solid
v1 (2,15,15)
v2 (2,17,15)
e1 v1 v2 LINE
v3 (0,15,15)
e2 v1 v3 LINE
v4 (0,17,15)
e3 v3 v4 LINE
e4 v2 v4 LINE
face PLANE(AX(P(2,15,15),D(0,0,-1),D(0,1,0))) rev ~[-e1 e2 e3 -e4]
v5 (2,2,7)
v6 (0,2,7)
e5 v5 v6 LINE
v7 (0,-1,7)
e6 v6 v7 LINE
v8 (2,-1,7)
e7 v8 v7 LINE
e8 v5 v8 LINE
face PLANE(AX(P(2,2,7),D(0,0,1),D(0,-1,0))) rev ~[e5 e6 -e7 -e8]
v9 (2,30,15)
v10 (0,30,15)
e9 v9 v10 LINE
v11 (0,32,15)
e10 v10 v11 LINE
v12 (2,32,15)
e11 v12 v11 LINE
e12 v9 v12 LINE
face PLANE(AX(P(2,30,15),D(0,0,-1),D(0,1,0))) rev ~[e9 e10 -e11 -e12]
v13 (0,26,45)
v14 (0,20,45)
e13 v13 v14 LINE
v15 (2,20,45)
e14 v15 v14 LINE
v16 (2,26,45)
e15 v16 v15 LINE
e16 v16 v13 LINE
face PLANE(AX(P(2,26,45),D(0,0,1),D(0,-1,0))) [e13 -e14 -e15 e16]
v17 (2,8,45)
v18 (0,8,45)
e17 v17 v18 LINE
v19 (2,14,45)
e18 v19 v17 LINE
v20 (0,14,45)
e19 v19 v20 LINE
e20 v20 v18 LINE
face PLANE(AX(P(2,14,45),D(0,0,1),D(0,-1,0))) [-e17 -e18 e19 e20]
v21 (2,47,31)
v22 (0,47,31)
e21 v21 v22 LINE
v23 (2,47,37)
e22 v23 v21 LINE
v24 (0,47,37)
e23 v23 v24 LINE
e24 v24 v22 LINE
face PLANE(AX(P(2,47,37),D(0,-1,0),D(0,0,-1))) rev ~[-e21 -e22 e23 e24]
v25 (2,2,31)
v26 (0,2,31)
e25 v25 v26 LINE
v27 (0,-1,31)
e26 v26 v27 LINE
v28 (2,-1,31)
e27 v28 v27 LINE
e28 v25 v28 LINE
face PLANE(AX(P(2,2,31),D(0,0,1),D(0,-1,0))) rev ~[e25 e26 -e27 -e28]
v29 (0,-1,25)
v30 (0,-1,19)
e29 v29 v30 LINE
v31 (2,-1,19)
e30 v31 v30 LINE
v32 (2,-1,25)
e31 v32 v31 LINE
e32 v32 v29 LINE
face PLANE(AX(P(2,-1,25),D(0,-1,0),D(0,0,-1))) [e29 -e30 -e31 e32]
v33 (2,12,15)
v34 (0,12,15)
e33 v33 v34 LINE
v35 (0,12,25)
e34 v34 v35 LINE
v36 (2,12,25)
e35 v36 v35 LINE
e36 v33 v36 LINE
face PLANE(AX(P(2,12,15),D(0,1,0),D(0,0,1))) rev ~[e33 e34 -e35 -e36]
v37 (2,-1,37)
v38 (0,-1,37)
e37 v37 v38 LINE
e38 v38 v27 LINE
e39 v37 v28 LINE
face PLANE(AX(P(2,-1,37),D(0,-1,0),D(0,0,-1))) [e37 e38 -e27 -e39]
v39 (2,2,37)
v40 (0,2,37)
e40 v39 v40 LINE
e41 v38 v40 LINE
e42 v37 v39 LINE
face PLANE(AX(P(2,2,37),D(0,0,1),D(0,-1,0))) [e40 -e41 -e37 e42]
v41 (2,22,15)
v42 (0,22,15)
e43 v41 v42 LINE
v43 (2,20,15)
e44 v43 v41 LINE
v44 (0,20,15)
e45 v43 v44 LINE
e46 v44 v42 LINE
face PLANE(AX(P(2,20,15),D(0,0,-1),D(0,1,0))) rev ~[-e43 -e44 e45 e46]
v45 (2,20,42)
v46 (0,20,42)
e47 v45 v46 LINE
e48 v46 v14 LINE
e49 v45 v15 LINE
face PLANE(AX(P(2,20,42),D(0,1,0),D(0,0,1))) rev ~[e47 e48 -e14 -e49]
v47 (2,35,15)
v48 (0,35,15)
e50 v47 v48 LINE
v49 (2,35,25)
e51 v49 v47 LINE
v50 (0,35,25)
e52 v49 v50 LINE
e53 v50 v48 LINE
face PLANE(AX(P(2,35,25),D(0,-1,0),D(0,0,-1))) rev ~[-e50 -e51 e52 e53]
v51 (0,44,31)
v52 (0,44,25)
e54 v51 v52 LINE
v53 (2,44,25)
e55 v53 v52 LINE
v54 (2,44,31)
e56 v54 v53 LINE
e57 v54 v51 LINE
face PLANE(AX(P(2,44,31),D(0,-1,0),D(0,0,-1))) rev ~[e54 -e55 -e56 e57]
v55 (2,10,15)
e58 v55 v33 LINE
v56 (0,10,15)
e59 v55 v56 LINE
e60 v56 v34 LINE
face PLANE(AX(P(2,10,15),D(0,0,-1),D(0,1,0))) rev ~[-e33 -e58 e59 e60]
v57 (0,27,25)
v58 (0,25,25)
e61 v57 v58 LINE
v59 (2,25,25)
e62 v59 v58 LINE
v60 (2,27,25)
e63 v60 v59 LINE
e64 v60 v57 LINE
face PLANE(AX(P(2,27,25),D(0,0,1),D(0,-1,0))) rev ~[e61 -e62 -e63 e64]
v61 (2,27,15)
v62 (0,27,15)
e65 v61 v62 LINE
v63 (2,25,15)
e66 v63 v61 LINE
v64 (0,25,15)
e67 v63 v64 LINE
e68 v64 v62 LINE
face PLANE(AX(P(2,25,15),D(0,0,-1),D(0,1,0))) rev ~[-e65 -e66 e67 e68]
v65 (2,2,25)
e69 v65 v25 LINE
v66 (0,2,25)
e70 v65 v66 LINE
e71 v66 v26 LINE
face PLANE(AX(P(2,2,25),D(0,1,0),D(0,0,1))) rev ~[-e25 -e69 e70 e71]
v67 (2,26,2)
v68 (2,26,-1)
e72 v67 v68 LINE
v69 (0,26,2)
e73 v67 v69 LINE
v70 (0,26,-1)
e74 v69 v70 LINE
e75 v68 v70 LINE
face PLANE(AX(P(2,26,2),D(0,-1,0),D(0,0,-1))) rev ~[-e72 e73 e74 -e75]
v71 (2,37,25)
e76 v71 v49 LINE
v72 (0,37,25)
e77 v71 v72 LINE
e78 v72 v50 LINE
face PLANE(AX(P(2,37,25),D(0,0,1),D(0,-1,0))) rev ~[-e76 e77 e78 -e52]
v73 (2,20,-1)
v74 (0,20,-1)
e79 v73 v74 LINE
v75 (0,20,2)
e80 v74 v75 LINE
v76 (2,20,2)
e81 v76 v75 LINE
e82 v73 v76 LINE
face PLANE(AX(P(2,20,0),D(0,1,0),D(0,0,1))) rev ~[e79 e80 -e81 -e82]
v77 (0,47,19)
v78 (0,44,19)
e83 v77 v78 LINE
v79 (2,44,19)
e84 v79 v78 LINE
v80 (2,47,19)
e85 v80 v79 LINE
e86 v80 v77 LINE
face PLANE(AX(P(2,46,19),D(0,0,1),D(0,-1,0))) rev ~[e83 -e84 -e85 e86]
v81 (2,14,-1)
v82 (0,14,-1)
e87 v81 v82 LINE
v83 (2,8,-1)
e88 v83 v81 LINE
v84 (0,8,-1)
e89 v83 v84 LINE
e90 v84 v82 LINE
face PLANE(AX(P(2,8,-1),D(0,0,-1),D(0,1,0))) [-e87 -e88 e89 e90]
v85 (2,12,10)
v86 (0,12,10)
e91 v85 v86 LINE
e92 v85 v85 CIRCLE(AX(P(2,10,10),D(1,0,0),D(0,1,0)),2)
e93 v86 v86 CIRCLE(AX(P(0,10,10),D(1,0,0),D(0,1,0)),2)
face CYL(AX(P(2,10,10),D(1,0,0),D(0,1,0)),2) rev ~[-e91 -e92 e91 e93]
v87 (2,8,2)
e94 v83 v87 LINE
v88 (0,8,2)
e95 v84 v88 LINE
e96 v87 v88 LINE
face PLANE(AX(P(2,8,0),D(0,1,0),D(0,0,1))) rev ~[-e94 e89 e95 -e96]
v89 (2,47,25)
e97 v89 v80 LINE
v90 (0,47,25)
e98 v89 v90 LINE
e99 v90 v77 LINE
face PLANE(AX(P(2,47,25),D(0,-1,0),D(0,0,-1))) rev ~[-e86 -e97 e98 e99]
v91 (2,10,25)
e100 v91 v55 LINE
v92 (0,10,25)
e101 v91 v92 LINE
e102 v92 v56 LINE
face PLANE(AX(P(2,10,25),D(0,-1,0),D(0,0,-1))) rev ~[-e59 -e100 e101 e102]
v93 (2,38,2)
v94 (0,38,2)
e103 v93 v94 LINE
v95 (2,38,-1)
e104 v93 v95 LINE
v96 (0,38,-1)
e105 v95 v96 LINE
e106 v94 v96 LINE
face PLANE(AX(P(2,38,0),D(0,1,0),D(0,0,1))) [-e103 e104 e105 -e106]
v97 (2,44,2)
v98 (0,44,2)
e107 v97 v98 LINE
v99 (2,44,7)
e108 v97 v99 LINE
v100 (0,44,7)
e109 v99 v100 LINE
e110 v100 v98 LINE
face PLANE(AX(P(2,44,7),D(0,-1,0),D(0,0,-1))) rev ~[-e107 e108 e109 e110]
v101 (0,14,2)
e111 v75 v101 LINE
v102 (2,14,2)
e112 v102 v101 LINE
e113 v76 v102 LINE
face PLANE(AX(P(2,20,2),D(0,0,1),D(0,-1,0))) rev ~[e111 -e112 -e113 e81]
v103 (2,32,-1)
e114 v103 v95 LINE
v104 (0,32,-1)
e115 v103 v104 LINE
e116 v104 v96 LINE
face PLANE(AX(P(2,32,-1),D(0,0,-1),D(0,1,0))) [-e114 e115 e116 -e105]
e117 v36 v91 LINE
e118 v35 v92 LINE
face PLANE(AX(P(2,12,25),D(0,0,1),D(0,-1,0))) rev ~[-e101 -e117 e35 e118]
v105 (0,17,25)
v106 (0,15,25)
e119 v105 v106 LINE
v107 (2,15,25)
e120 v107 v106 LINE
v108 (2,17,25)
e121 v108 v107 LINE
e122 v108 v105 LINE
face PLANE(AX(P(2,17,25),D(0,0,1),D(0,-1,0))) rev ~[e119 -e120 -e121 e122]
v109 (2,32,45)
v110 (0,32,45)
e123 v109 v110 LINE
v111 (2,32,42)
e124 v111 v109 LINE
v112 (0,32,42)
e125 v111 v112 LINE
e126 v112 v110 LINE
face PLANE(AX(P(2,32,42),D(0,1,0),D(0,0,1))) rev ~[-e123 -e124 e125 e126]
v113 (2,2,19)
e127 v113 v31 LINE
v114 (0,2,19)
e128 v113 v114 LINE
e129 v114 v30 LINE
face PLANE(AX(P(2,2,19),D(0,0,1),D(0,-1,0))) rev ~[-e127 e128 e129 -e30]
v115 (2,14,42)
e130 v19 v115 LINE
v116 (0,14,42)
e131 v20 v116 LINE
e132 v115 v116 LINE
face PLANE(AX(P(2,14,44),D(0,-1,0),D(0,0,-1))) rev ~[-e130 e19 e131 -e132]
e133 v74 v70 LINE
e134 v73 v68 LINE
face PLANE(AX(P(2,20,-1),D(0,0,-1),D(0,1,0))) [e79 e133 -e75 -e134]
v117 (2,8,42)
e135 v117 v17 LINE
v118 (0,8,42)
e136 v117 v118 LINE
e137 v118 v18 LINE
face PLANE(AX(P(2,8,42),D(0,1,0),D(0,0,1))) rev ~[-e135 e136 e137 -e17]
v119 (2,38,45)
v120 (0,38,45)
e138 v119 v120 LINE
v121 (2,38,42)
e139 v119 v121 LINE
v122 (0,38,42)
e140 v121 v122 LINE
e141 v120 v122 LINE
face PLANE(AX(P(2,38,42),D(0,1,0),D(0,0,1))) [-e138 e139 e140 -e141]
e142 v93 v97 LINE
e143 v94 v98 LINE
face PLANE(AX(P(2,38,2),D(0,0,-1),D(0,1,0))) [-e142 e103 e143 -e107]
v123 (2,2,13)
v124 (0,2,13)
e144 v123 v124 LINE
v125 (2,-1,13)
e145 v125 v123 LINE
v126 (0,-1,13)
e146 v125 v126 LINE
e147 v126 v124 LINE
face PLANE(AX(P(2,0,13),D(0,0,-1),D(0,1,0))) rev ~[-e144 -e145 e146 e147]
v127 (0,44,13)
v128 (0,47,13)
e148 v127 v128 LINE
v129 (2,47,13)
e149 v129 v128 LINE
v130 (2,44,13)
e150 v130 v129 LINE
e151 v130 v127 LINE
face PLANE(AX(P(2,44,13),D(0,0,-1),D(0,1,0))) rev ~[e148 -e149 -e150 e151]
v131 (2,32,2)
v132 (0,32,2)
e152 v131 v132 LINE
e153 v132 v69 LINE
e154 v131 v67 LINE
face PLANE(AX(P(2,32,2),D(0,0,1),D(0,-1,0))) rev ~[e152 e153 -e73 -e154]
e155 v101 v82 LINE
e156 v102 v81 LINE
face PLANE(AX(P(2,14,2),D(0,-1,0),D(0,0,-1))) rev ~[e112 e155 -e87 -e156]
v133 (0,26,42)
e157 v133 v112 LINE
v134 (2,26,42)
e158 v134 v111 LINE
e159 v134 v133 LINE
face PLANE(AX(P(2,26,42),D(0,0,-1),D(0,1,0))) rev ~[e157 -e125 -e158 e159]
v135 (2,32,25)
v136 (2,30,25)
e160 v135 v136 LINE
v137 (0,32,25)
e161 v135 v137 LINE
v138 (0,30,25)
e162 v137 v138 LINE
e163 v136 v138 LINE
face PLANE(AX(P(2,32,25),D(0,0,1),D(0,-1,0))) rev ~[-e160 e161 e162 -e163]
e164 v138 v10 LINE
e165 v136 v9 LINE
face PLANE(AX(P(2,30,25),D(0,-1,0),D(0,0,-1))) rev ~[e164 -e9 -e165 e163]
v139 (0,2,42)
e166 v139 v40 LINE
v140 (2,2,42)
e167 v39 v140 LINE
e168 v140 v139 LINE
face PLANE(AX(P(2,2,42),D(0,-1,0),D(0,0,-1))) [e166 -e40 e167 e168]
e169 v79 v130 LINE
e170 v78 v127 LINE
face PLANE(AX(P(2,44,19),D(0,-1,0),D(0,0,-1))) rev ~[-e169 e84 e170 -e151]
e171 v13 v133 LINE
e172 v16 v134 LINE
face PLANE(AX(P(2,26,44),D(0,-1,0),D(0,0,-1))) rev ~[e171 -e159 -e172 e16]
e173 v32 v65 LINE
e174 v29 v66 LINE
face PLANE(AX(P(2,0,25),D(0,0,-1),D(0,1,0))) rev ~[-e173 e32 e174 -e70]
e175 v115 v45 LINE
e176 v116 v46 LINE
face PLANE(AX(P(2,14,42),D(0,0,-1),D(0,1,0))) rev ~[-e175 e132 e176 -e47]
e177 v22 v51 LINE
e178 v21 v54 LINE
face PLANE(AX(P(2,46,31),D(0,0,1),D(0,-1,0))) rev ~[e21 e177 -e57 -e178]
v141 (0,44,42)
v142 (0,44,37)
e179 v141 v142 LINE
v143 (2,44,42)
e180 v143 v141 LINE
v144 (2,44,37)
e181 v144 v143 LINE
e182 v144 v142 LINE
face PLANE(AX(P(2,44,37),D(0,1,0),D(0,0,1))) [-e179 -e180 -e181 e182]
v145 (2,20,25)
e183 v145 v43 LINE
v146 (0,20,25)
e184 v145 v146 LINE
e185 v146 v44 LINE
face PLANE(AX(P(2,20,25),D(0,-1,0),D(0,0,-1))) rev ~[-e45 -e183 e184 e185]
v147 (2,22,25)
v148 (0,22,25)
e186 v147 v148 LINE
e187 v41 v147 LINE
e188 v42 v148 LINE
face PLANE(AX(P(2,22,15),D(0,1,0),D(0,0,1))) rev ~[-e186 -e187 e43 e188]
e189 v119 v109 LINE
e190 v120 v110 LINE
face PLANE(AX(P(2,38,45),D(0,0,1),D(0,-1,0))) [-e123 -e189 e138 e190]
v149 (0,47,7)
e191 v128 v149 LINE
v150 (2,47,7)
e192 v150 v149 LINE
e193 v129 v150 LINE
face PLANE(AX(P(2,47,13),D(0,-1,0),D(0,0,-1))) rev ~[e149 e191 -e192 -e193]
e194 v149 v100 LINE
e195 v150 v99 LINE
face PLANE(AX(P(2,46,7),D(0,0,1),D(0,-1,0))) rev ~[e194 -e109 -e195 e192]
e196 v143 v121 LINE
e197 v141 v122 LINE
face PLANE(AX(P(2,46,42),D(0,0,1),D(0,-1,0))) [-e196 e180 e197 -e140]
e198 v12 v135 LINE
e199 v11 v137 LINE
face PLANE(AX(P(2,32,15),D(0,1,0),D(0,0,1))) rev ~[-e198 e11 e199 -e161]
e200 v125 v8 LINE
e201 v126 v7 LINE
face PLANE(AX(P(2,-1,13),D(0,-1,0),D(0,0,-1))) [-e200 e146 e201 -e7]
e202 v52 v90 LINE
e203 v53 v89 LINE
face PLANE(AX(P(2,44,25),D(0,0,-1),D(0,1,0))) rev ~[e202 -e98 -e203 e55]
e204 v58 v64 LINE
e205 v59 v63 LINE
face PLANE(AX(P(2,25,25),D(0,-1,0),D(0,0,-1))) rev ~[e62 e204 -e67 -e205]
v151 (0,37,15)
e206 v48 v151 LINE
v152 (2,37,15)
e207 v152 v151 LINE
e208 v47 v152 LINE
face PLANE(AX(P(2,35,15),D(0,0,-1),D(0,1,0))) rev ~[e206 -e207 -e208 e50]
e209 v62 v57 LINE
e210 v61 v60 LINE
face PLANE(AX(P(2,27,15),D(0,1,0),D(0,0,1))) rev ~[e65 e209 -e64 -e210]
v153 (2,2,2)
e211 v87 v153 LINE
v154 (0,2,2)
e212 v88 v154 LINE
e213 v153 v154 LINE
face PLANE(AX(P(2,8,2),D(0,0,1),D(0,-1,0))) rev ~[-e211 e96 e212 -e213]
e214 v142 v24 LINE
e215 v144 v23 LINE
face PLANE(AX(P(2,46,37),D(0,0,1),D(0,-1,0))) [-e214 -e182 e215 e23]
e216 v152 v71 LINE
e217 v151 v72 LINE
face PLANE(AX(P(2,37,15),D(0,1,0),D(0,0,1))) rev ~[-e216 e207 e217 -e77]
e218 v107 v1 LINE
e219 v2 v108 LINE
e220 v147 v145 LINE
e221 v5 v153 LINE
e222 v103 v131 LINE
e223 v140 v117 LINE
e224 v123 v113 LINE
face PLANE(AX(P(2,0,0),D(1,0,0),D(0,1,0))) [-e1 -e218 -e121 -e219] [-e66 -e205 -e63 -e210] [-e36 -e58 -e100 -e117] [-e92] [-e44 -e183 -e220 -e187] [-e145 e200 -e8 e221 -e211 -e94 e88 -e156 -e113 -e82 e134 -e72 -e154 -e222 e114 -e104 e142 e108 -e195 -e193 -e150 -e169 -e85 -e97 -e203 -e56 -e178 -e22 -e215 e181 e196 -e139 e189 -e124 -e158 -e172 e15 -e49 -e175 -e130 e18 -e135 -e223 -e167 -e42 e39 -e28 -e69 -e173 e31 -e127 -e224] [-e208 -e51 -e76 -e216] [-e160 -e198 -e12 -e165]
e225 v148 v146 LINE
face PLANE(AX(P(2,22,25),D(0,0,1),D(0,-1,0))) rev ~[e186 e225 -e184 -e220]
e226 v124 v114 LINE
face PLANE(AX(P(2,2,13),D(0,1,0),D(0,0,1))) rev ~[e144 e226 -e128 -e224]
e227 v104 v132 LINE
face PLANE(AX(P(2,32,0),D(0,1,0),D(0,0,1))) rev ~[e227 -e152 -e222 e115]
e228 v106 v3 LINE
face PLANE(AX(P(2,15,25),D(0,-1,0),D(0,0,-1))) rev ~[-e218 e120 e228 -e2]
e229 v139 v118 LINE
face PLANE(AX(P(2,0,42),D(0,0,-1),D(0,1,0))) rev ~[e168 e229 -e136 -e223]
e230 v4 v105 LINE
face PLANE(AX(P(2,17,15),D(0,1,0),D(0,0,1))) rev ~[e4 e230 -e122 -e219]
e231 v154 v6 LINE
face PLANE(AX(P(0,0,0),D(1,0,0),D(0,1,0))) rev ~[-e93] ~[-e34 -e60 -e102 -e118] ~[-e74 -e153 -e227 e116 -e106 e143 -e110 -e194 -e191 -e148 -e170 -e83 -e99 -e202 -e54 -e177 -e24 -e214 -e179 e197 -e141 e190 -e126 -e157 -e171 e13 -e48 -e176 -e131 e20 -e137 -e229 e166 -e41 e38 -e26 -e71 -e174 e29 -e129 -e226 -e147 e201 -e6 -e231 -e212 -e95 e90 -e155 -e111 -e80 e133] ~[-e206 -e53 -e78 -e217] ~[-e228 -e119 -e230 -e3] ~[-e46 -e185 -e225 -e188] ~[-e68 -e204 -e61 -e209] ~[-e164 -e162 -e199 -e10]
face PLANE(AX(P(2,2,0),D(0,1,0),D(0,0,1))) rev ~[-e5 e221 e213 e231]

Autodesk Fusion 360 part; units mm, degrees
sketch "スケッチ1" plane through (0, 0, 0) normal (1, 0, 0) x (0, 1, 0)
  line L0 (0, 0) -> (46, 0)
  line L1 (46, 0) -> (46, 44)
  line L2 (46, 44) -> (0, 44)
  line L3 (0, 44) -> (0, 0)
  dimension "d1" = 46
  dimension "d2" = 44
extrude "押し出し1" add sketch "スケッチ1" along normal blind 2
sketch "スケッチ2" plane through (2, 0, 0) normal (1, 0, 0) x (0, 1, 0)
  line L0 (0, 44) -> (0, 0)
  line L1 (0, 0) -> (46, 0)
  line L2 (46, 0) -> (46, 44)
  line L3 (46, 44) -> (0, 44)
  line L4 (0, 0) -> (8, 0)
  line L5 (8, 0) -> (8, 2)
  line L6 (8, 2) -> (0, 2)
  line L7 (0, 2) -> (0, 0)
  line L8 (14, 0) -> (20, 0)
  line L9 (20, 0) -> (20, 2)
  line L10 (20, 2) -> (14, 2)
  line L11 (14, 2) -> (14, 0)
  line L12 (26, 0) -> (32, 0)
  line L13 (32, 0) -> (32, 2)
  line L14 (32, 2) -> (26, 2)
  line L15 (26, 2) -> (26, 0)
  line L16 (46, 0) -> (38, 0)
  line L17 (38, 0) -> (38, 2)
  line L18 (38, 2) -> (46, 2)
  line L19 (46, 2) -> (46, 0)
  line L20 (32, 42) -> (32, 44)
  line L21 (32, 44) -> (26, 44)
  line L22 (20, 42) -> (20, 44)
  line L23 (38, 42) -> (38, 44)
  line L24 (38, 44) -> (46, 44)
  line L25 (46, 44) -> (46, 42)
  line L26 (0, 42) -> (8, 42)
  line L27 (26, 44) -> (26, 42)
  line L28 (8, 42) -> (8, 44)
  line L29 (8, 44) -> (0, 44)
  line L30 (0, 44) -> (0, 42)
  line L31 (20, 44) -> (14, 44)
  line L32 (26, 42) -> (32, 42)
  line L33 (46, 42) -> (38, 42)
  line L34 (14, 42) -> (20, 42)
  line L35 (14, 44) -> (14, 42)
  point P0 (0, 42)
  dimension "d5" = 8
  dimension "d6" = 2
  dimension "d7" = 6
  dimension "d8" = 2
  dimension "d9" = 6
  dimension "d10" = 6
  dimension "d11" = 2
  dimension "d12" = 6
  dimension "d13" = 6
  dimension "d14" = 2
extrude "押し出し2" cut sketch "スケッチ2" against normal blind 2 contours L0 L3 L26 L28 L29 L30 | L0 L1 L4 L5 L6 L7 | L3 L22 L31 L34 L35 | L3 L20 L21 L27 L32 | L1 L8 L9 L10 L11 | L2 L3 L23 L24 L25 L33 | L1 L12 L13 L14 L15 | L1 L2 L16 L17 L18 L19
sketch "スケッチ3" plane through (2, 0, 0) normal (1, 0, 0) x (0, 1, 0)
  line L0 (8, 2) -> (8, 0)
  line L1 (8, 0) -> (14, 0)
  line L2 (14, 0) -> (14, 2)
  line L3 (14, 2) -> (20, 2)
  line L4 (20, 2) -> (20, 0)
  line L5 (20, 0) -> (26, 0)
  line L6 (26, 0) -> (26, 2)
  line L7 (26, 2) -> (32, 2)
  line L8 (32, 2) -> (32, 0)
  line L9 (32, 0) -> (38, 0)
  line L10 (38, 0) -> (38, 2)
  line L11 (38, 2) -> (46, 2)
  line L12 (46, 2) -> (46, 42)
  line L13 (46, 42) -> (38, 42)
  line L14 (38, 42) -> (38, 44)
  line L15 (38, 44) -> (32, 44)
  line L16 (32, 44) -> (32, 42)
  line L17 (32, 42) -> (26, 42)
  line L18 (26, 42) -> (26, 44)
  line L19 (26, 44) -> (20, 44)
  line L20 (20, 44) -> (20, 42)
  line L21 (20, 42) -> (14, 42)
  line L22 (14, 42) -> (14, 44)
  line L23 (14, 44) -> (8, 44)
  line L24 (8, 44) -> (8, 42)
  line L25 (8, 42) -> (0, 42)
  line L26 (0, 42) -> (0, 2)
  line L27 (0, 2) -> (8, 2)
  line L28 (0, 44) -> (2, 44)
  line L29 (2, 44) -> (2, 37)
  line L30 (2, 37) -> (0, 37)
  line L31 (0, 37) -> (0, 44)
  line L32 (2, 31) -> (0, 31)
  line L33 (0, 31) -> (0, 25)
  line L34 (0, 25) -> (2, 25)
  line L35 (2, 25) -> (2, 31)
  line L36 (2, 19) -> (0, 19)
  line L37 (0, 19) -> (0, 13)
  line L38 (0, 13) -> (2, 13)
  line L39 (2, 13) -> (2, 19)
  line L40 (2, 7) -> (0, 7)
  line L41 (0, 7) -> (0, 0)
  line L42 (0, 0) -> (2, 0)
  line L43 (2, 0) -> (2, 7)
  line L44 (46, 31) -> (44, 31)
  line L45 (46, 13) -> (46, 19)
  line L46 (44, 44) -> (46, 44)
  line L47 (44, 0) -> (46, 0)
  line L48 (44, 7) -> (44, 0)
  line L49 (44, 25) -> (46, 25)
  line L50 (46, 37) -> (44, 37)
  line L51 (44, 37) -> (44, 44)
  line L52 (44, 13) -> (46, 13)
  line L53 (44, 31) -> (44, 25)
  line L54 (46, 19) -> (44, 19)
  line L55 (44, 19) -> (44, 13)
  line L56 (46, 25) -> (46, 31)
  line L57 (46, 7) -> (44, 7)
  line L58 (46, 0) -> (46, 7)
  line L59 (46, 44) -> (46, 37)
  point P0 (44, 0)
  dimension "d21" = 2
  dimension "d22" = 7
  dimension "d23" = 2
  dimension "d24" = 6
  dimension "d25" = 6
  dimension "d26" = 6
  dimension "d27" = 6
  dimension "d28" = 2
  dimension "d29" = 6
  dimension "d30" = 7
  dimension "d31" = 2
extrude "押し出し3" cut sketch "スケッチ3" against normal blind 2 contours L27 L41 L42 L43 | L26 L27 L40 L41 L43 | L26 L36 L37 L38 L39 | L26 L32 L33 L34 L35 | L25 L26 L29 L30 L31 | L25 L28 L29 L31 | L11 L12 L48 L57 L58 | L11 L47 L48 L58 | L12 L45 L52 L54 L55 | L12 L44 L49 L53 L56 | L12 L13 L50 L51 L59 | L13 L46 L51 L59
sketch "スケッチ4" plane through (2, 0, 0) normal (1, 0, 0) x (0, 1, 0)
  line L0 (44, 19) -> (46, 19)
  line L1 (46, 19) -> (46, 25)
  line L2 (46, 25) -> (44, 25)
  line L3 (44, 25) -> (44, 31)
  line L4 (44, 31) -> (46, 31)
  line L5 (46, 31) -> (46, 37)
  line L6 (46, 37) -> (44, 37)
  line L7 (44, 37) -> (44, 42)
  line L8 (44, 42) -> (38, 42)
  line L9 (38, 42) -> (38, 44)
  line L10 (38, 44) -> (32, 44)
  line L11 (32, 44) -> (32, 42)
  line L12 (32, 42) -> (26, 42)
  line L13 (26, 42) -> (26, 44)
  line L14 (26, 44) -> (20, 44)
  line L15 (20, 44) -> (20, 42)
  line L16 (20, 42) -> (14, 42)
  line L17 (14, 42) -> (14, 44)
  line L18 (14, 44) -> (8, 44)
  line L19 (8, 44) -> (8, 42)
  line L20 (8, 42) -> (2, 42)
  line L21 (2, 42) -> (2, 37)
  line L22 (2, 37) -> (0, 37)
  line L23 (0, 37) -> (0, 31)
  line L24 (0, 31) -> (2, 31)
  line L25 (2, 31) -> (2, 25)
  line L26 (2, 25) -> (0, 25)
  line L27 (0, 25) -> (0, 19)
  line L28 (0, 19) -> (2, 19)
  line L29 (2, 19) -> (2, 13)
  line L30 (2, 13) -> (0, 13)
  line L31 (0, 13) -> (0, 7)
  line L32 (0, 7) -> (2, 7)
  line L33 (2, 7) -> (2, 2)
  line L34 (2, 2) -> (8, 2)
  line L35 (8, 2) -> (8, 0)
  line L36 (8, 0) -> (14, 0)
  line L37 (14, 0) -> (14, 2)
  line L38 (14, 2) -> (20, 2)
  line L39 (20, 2) -> (20, 0)
  line L40 (20, 0) -> (26, 0)
  line L41 (26, 0) -> (26, 2)
  line L42 (26, 2) -> (32, 2)
  line L43 (32, 2) -> (32, 0)
  line L44 (32, 0) -> (38, 0)
  line L45 (38, 0) -> (38, 2)
  line L46 (38, 2) -> (44, 2)
  line L47 (44, 2) -> (44, 7)
  line L48 (44, 7) -> (46, 7)
  line L49 (46, 7) -> (46, 13)
  line L50 (46, 13) -> (44, 13)
  line L51 (44, 13) -> (44, 19)
  line L52 (10, 15) -> (12, 15)
  line L53 (12, 15) -> (12, 25)
  line L54 (12, 25) -> (10, 25)
  line L55 (10, 25) -> (10, 15)
  line L56 (15, 15) -> (17, 15)
  line L57 (17, 15) -> (17, 25)
  line L58 (17, 25) -> (15, 25)
  line L59 (15, 25) -> (15, 15)
  line L60 (20, 15) -> (22, 15)
  line L61 (22, 15) -> (22, 25)
  line L62 (22, 25) -> (20, 25)
  line L63 (20, 25) -> (20, 15)
  line L64 (25, 15) -> (27, 15)
  line L65 (27, 15) -> (27, 25)
  line L66 (27, 25) -> (25, 25)
  line L67 (25, 25) -> (25, 15)
  line L68 (30, 15) -> (32, 15)
  line L69 (32, 15) -> (32, 25)
  line L70 (32, 25) -> (30, 25)
  line L71 (30, 25) -> (30, 15)
  line L72 (35, 15) -> (37, 15)
  line L73 (37, 15) -> (37, 25)
  line L74 (37, 25) -> (35, 25)
  line L75 (35, 25) -> (35, 15)
extrude "押し出し4" cut sketch "スケッチ4" against normal blind 2 contours L52 L53 L54 L55 | L56 L57 L58 L59 | L60 L61 L62 L63 | L64 L65 L66 L67 | L68 L69 L70 L71 | L72 L73 L74 L75
sketch "スケッチ5" plane through (2, 0, 0) normal (1, 0, 0) x (0, 1, 0)
  line L0 (37, 15) -> (35, 15)
  line L1 (35, 15) -> (35, 25)
  line L2 (35, 25) -> (37, 25)
  line L3 (37, 25) -> (37, 15)
  line L4 (32, 15) -> (30, 15)
  line L5 (30, 15) -> (30, 25)
  line L6 (30, 25) -> (32, 25)
  line L7 (32, 25) -> (32, 15)
  line L8 (17, 15) -> (15, 15)
  line L9 (15, 15) -> (15, 25)
  line L10 (15, 25) -> (17, 25)
  line L11 (17, 25) -> (17, 15)
  line L12 (12, 15) -> (10, 15)
  line L13 (10, 15) -> (10, 25)
  line L14 (10, 25) -> (12, 25)
  line L15 (12, 25) -> (12, 15)
  line L16 (22, 15) -> (20, 15)
  line L17 (20, 15) -> (20, 25)
  line L18 (20, 25) -> (22, 25)
  line L19 (22, 25) -> (22, 15)
  line L20 (27, 15) -> (25, 15)
  line L21 (25, 15) -> (25, 25)
  line L22 (25, 25) -> (27, 25)
  line L23 (27, 25) -> (27, 15)
  line L24 (44, 19) -> (46, 19)
  line L25 (46, 19) -> (46, 25)
  line L26 (46, 25) -> (44, 25)
  line L27 (44, 25) -> (44, 31)
  line L28 (44, 31) -> (46, 31)
  line L29 (46, 31) -> (46, 37)
  line L30 (46, 37) -> (44, 37)
  line L31 (44, 37) -> (44, 42)
  line L32 (44, 42) -> (38, 42)
  line L33 (38, 42) -> (38, 44)
  line L34 (38, 44) -> (32, 44)
  line L35 (32, 44) -> (32, 42)
  line L36 (32, 42) -> (26, 42)
  line L37 (26, 42) -> (26, 44)
  line L38 (26, 44) -> (20, 44)
  line L39 (20, 44) -> (20, 42)
  line L40 (20, 42) -> (14, 42)
  line L41 (14, 42) -> (14, 44)
  line L42 (14, 44) -> (8, 44)
  line L43 (8, 44) -> (8, 42)
  line L44 (8, 42) -> (2, 42)
  line L45 (2, 42) -> (2, 37)
  line L46 (2, 37) -> (0, 37)
  line L47 (0, 37) -> (0, 31)
  line L48 (0, 31) -> (2, 31)
  line L49 (2, 31) -> (2, 25)
  line L50 (2, 25) -> (0, 25)
  line L51 (0, 25) -> (0, 19)
  line L52 (0, 19) -> (2, 19)
  line L53 (2, 19) -> (2, 13)
  line L54 (2, 13) -> (0, 13)
  line L55 (0, 13) -> (0, 7)
  line L56 (0, 7) -> (2, 7)
  line L57 (2, 7) -> (2, 2)
  line L58 (2, 2) -> (8, 2)
  line L59 (8, 2) -> (8, 0)
  line L60 (8, 0) -> (14, 0)
  line L61 (14, 0) -> (14, 2)
  line L62 (14, 2) -> (20, 2)
  line L63 (20, 2) -> (20, 0)
  line L64 (20, 0) -> (26, 0)
  line L65 (26, 0) -> (26, 2)
  line L66 (26, 2) -> (32, 2)
  line L67 (32, 2) -> (32, 0)
  line L68 (32, 0) -> (38, 0)
  line L69 (38, 0) -> (38, 2)
  line L70 (38, 2) -> (44, 2)
  line L71 (44, 2) -> (44, 7)
  line L72 (44, 7) -> (46, 7)
  line L73 (46, 7) -> (46, 13)
  line L74 (46, 13) -> (44, 13)
  line L75 (44, 13) -> (44, 19)
  circle A0 centre (10, 10) radius 2
extrude "押し出し5" cut sketch "スケッチ5" against normal blind 2 contours A0
sketch "スケッチ6" plane through (2, 0, 0) normal (1, 0, 0) x (0, 1, 0)
  circle A0 centre (10, 10) radius 2
  line L0 (37, 15) -> (35, 15)
  line L1 (35, 15) -> (35, 25)
  line L2 (35, 25) -> (37, 25)
  line L3 (37, 25) -> (37, 15)
  line L4 (32, 15) -> (30, 15)
  line L5 (30, 15) -> (30, 25)
  line L6 (30, 25) -> (32, 25)
  line L7 (32, 25) -> (32, 15)
  line L8 (17, 15) -> (15, 15)
  line L9 (15, 15) -> (15, 25)
  line L10 (15, 25) -> (17, 25)
  line L11 (17, 25) -> (17, 15)
  line L12 (12, 15) -> (10, 15)
  line L13 (10, 15) -> (10, 25)
  line L14 (10, 25) -> (12, 25)
  line L15 (12, 25) -> (12, 15)
  line L16 (22, 15) -> (20, 15)
  line L17 (20, 15) -> (20, 25)
  line L18 (20, 25) -> (22, 25)
  line L19 (22, 25) -> (22, 15)
  line L20 (27, 15) -> (25, 15)
  line L21 (25, 15) -> (25, 25)
  line L22 (25, 25) -> (27, 25)
  line L23 (27, 25) -> (27, 15)
  line L24 (44, 19) -> (46, 19)
  line L25 (46, 19) -> (46, 25)
  line L26 (46, 25) -> (44, 25)
  line L27 (44, 25) -> (44, 31)
  line L28 (44, 31) -> (46, 31)
  line L29 (46, 31) -> (46, 37)
  line L30 (46, 37) -> (44, 37)
  line L31 (44, 37) -> (44, 42)
  line L32 (44, 42) -> (38, 42)
  line L33 (38, 42) -> (38, 44)
  line L34 (38, 44) -> (32, 44)
  line L35 (32, 44) -> (32, 42)
  line L36 (32, 42) -> (26, 42)
  line L37 (26, 42) -> (26, 44)
  line L38 (26, 44) -> (20, 44)
  line L39 (20, 44) -> (20, 42)
  line L40 (20, 42) -> (14, 42)
  line L41 (14, 42) -> (14, 44)
  line L42 (14, 44) -> (8, 44)
  line L43 (8, 44) -> (8, 42)
  line L44 (8, 42) -> (2, 42)
  line L45 (2, 42) -> (2, 37)
  line L46 (2, 37) -> (0, 37)
  line L47 (0, 37) -> (0, 31)
  line L48 (0, 31) -> (2, 31)
  line L49 (2, 31) -> (2, 25)
  line L50 (2, 25) -> (0, 25)
  line L51 (0, 25) -> (0, 19)
  line L52 (0, 19) -> (2, 19)
  line L53 (2, 19) -> (2, 13)
  line L54 (2, 13) -> (0, 13)
  line L55 (0, 13) -> (0, 7)
  line L56 (0, 7) -> (2, 7)
  line L57 (2, 7) -> (2, 2)
  line L58 (2, 2) -> (8, 2)
  line L59 (8, 2) -> (8, 0)
  line L60 (8, 0) -> (14, 0)
  line L61 (14, 0) -> (14, 2)
  line L62 (14, 2) -> (20, 2)
  line L63 (20, 2) -> (20, 0)
  line L64 (20, 0) -> (26, 0)
  line L65 (26, 0) -> (26, 2)
  line L66 (26, 2) -> (32, 2)
  line L67 (32, 2) -> (32, 0)
  line L68 (32, 0) -> (38, 0)
  line L69 (38, 0) -> (38, 2)
  line L70 (38, 2) -> (44, 2)
  line L71 (44, 2) -> (44, 7)
  line L72 (44, 7) -> (46, 7)
  line L73 (46, 7) -> (46, 13)
  line L74 (46, 13) -> (44, 13)
  line L75 (44, 13) -> (44, 19)
  line L76 (8, 44) -> (14, 44)
  line L77 (14, 44) -> (14, 45)
  line L78 (14, 45) -> (8, 45)
  line L79 (8, 45) -> (8, 44)
  line L80 (20, 44) -> (26, 44)
  line L81 (26, 44) -> (26, 45)
  line L82 (26, 45) -> (20, 45)
  line L83 (20, 45) -> (20, 44)
  line L84 (32, 44) -> (38, 44)
  line L85 (38, 44) -> (38, 45)
  line L86 (38, 45) -> (32, 45)
  line L87 (32, 45) -> (32, 44)
  line L88 (46, 37) -> (47, 37)
  line L89 (47, 37) -> (47, 31)
  line L90 (47, 31) -> (46, 31)
  line L91 (46, 31) -> (46, 37)
  line L92 (46, 25) -> (47, 25)
  line L93 (47, 25) -> (47, 19)
  line L94 (47, 19) -> (46, 19)
  line L95 (46, 19) -> (46, 25)
  line L96 (46, 13) -> (47, 13)
  line L97 (47, 13) -> (47, 7)
  line L98 (47, 7) -> (46, 7)
  line L99 (46, 7) -> (46, 13)
  line L100 (38, 0) -> (32, 0)
  line L101 (32, 0) -> (32, -1)
  line L102 (32, -1) -> (38, -1)
  line L103 (38, -1) -> (38, 0)
  line L104 (26, 0) -> (20, 0)
  line L105 (20, 0) -> (20, -1)
  line L106 (20, -1) -> (26, -1)
  line L107 (26, -1) -> (26, 0)
  line L108 (14, 0) -> (8, 0)
  line L109 (8, 0) -> (8, -1)
  line L110 (8, -1) -> (14, -1)
  line L111 (14, -1) -> (14, 0)
  line L112 (-1, 7) -> (0, 7)
  line L113 (0, 7) -> (0, 13)
  line L114 (0, 13) -> (-1, 13)
  line L115 (-1, 13) -> (-1, 7)
  line L116 (-1, 19) -> (0, 19)
  line L117 (0, 19) -> (0, 25)
  line L118 (0, 25) -> (-1, 25)
  line L119 (-1, 25) -> (-1, 19)
  line L120 (-1, 31) -> (0, 31)
  line L121 (0, 31) -> (0, 37)
  line L122 (0, 37) -> (-1, 37)
  line L123 (-1, 37) -> (-1, 31)
extrude "押し出し6" add sketch "スケッチ6" against normal blind 2 contours L25 L92 L93 L94 L95 | L73 L96 L97 L98 L99 | L29 L88 L89 L90 L91 | L68 L100 L101 L102 L103 | L34 L84 L85 L86 L87 | L64 L104 L105 L106 L107 | L38 L80 L81 L82 L83 | L60 L108 L109 L110 L111 | L42 L76 L77 L78 L79 | L55 L112 L113 L114 L115 | L47 L120 L121 L122 L123 | L51 L116 L117 L118 L119
sketch "スケッチ7" plane through (2, 0, 0) normal (1, 0, 0) x (0, 1, 0)
  circle A0 centre (10, 10) radius 2
  line L0 (37, 15) -> (35, 15)
  line L1 (35, 15) -> (35, 25)
  line L2 (35, 25) -> (37, 25)
  line L3 (37, 25) -> (37, 15)
  line L4 (32, 15) -> (30, 15)
  line L5 (30, 15) -> (30, 25)
  line L6 (30, 25) -> (32, 25)
  line L7 (32, 25) -> (32, 15)
  line L8 (17, 15) -> (15, 15)
  line L9 (15, 15) -> (15, 25)
  line L10 (15, 25) -> (17, 25)
  line L11 (17, 25) -> (17, 15)
  line L12 (12, 15) -> (10, 15)
  line L13 (10, 15) -> (10, 25)
  line L14 (10, 25) -> (12, 25)
  line L15 (12, 25) -> (12, 15)
  line L16 (22, 15) -> (20, 15)
  line L17 (20, 15) -> (20, 25)
  line L18 (20, 25) -> (22, 25)
  line L19 (22, 25) -> (22, 15)
  line L20 (27, 15) -> (25, 15)
  line L21 (25, 15) -> (25, 25)
  line L22 (25, 25) -> (27, 25)
  line L23 (27, 25) -> (27, 15)
  line L24 (44, 19) -> (47, 19)
  line L25 (47, 19) -> (47, 25)
  line L26 (47, 25) -> (44, 25)
  line L27 (44, 25) -> (44, 31)
  line L28 (44, 31) -> (47, 31)
  line L29 (47, 31) -> (47, 37)
  line L30 (47, 37) -> (44, 37)
  line L31 (44, 37) -> (44, 42)
  line L32 (44, 42) -> (38, 42)
  line L33 (38, 42) -> (38, 45)
  line L34 (38, 45) -> (32, 45)
  line L35 (32, 45) -> (32, 42)
  line L36 (32, 42) -> (26, 42)
  line L37 (26, 42) -> (26, 45)
  line L38 (26, 45) -> (20, 45)
  line L39 (20, 45) -> (20, 42)
  line L40 (20, 42) -> (14, 42)
  line L41 (14, 42) -> (14, 45)
  line L42 (14, 45) -> (8, 45)
  line L43 (8, 45) -> (8, 42)
  line L44 (8, 42) -> (2, 42)
  line L45 (2, 42) -> (2, 37)
  line L46 (2, 37) -> (-1, 37)
  line L47 (-1, 37) -> (-1, 31)
  line L48 (-1, 31) -> (2, 31)
  line L49 (2, 31) -> (2, 25)
  line L50 (2, 25) -> (-1, 25)
  line L51 (-1, 25) -> (-1, 19)
  line L52 (-1, 19) -> (2, 19)
  line L53 (2, 19) -> (2, 13)
  line L54 (2, 13) -> (-1, 13)
  line L55 (-1, 13) -> (-1, 7)
  line L56 (-1, 7) -> (2, 7)
  line L57 (2, 7) -> (2, 2)
  line L58 (2, 2) -> (8, 2)
  line L59 (8, 2) -> (8, -1)
  line L60 (8, -1) -> (14, -1)
  line L61 (14, -1) -> (14, 2)
  line L62 (14, 2) -> (20, 2)
  line L63 (20, 2) -> (20, -1)
  line L64 (20, -1) -> (26, -1)
  line L65 (26, -1) -> (26, 2)
  line L66 (26, 2) -> (32, 2)
  line L67 (32, 2) -> (32, -1)
  line L68 (32, -1) -> (38, -1)
  line L69 (38, -1) -> (38, 2)
  line L70 (38, 2) -> (44, 2)
  line L71 (44, 2) -> (44, 7)
  line L72 (44, 7) -> (47, 7)
  line L73 (47, 7) -> (47, 13)
  line L74 (47, 13) -> (44, 13)
  line L75 (44, 13) -> (44, 19)
